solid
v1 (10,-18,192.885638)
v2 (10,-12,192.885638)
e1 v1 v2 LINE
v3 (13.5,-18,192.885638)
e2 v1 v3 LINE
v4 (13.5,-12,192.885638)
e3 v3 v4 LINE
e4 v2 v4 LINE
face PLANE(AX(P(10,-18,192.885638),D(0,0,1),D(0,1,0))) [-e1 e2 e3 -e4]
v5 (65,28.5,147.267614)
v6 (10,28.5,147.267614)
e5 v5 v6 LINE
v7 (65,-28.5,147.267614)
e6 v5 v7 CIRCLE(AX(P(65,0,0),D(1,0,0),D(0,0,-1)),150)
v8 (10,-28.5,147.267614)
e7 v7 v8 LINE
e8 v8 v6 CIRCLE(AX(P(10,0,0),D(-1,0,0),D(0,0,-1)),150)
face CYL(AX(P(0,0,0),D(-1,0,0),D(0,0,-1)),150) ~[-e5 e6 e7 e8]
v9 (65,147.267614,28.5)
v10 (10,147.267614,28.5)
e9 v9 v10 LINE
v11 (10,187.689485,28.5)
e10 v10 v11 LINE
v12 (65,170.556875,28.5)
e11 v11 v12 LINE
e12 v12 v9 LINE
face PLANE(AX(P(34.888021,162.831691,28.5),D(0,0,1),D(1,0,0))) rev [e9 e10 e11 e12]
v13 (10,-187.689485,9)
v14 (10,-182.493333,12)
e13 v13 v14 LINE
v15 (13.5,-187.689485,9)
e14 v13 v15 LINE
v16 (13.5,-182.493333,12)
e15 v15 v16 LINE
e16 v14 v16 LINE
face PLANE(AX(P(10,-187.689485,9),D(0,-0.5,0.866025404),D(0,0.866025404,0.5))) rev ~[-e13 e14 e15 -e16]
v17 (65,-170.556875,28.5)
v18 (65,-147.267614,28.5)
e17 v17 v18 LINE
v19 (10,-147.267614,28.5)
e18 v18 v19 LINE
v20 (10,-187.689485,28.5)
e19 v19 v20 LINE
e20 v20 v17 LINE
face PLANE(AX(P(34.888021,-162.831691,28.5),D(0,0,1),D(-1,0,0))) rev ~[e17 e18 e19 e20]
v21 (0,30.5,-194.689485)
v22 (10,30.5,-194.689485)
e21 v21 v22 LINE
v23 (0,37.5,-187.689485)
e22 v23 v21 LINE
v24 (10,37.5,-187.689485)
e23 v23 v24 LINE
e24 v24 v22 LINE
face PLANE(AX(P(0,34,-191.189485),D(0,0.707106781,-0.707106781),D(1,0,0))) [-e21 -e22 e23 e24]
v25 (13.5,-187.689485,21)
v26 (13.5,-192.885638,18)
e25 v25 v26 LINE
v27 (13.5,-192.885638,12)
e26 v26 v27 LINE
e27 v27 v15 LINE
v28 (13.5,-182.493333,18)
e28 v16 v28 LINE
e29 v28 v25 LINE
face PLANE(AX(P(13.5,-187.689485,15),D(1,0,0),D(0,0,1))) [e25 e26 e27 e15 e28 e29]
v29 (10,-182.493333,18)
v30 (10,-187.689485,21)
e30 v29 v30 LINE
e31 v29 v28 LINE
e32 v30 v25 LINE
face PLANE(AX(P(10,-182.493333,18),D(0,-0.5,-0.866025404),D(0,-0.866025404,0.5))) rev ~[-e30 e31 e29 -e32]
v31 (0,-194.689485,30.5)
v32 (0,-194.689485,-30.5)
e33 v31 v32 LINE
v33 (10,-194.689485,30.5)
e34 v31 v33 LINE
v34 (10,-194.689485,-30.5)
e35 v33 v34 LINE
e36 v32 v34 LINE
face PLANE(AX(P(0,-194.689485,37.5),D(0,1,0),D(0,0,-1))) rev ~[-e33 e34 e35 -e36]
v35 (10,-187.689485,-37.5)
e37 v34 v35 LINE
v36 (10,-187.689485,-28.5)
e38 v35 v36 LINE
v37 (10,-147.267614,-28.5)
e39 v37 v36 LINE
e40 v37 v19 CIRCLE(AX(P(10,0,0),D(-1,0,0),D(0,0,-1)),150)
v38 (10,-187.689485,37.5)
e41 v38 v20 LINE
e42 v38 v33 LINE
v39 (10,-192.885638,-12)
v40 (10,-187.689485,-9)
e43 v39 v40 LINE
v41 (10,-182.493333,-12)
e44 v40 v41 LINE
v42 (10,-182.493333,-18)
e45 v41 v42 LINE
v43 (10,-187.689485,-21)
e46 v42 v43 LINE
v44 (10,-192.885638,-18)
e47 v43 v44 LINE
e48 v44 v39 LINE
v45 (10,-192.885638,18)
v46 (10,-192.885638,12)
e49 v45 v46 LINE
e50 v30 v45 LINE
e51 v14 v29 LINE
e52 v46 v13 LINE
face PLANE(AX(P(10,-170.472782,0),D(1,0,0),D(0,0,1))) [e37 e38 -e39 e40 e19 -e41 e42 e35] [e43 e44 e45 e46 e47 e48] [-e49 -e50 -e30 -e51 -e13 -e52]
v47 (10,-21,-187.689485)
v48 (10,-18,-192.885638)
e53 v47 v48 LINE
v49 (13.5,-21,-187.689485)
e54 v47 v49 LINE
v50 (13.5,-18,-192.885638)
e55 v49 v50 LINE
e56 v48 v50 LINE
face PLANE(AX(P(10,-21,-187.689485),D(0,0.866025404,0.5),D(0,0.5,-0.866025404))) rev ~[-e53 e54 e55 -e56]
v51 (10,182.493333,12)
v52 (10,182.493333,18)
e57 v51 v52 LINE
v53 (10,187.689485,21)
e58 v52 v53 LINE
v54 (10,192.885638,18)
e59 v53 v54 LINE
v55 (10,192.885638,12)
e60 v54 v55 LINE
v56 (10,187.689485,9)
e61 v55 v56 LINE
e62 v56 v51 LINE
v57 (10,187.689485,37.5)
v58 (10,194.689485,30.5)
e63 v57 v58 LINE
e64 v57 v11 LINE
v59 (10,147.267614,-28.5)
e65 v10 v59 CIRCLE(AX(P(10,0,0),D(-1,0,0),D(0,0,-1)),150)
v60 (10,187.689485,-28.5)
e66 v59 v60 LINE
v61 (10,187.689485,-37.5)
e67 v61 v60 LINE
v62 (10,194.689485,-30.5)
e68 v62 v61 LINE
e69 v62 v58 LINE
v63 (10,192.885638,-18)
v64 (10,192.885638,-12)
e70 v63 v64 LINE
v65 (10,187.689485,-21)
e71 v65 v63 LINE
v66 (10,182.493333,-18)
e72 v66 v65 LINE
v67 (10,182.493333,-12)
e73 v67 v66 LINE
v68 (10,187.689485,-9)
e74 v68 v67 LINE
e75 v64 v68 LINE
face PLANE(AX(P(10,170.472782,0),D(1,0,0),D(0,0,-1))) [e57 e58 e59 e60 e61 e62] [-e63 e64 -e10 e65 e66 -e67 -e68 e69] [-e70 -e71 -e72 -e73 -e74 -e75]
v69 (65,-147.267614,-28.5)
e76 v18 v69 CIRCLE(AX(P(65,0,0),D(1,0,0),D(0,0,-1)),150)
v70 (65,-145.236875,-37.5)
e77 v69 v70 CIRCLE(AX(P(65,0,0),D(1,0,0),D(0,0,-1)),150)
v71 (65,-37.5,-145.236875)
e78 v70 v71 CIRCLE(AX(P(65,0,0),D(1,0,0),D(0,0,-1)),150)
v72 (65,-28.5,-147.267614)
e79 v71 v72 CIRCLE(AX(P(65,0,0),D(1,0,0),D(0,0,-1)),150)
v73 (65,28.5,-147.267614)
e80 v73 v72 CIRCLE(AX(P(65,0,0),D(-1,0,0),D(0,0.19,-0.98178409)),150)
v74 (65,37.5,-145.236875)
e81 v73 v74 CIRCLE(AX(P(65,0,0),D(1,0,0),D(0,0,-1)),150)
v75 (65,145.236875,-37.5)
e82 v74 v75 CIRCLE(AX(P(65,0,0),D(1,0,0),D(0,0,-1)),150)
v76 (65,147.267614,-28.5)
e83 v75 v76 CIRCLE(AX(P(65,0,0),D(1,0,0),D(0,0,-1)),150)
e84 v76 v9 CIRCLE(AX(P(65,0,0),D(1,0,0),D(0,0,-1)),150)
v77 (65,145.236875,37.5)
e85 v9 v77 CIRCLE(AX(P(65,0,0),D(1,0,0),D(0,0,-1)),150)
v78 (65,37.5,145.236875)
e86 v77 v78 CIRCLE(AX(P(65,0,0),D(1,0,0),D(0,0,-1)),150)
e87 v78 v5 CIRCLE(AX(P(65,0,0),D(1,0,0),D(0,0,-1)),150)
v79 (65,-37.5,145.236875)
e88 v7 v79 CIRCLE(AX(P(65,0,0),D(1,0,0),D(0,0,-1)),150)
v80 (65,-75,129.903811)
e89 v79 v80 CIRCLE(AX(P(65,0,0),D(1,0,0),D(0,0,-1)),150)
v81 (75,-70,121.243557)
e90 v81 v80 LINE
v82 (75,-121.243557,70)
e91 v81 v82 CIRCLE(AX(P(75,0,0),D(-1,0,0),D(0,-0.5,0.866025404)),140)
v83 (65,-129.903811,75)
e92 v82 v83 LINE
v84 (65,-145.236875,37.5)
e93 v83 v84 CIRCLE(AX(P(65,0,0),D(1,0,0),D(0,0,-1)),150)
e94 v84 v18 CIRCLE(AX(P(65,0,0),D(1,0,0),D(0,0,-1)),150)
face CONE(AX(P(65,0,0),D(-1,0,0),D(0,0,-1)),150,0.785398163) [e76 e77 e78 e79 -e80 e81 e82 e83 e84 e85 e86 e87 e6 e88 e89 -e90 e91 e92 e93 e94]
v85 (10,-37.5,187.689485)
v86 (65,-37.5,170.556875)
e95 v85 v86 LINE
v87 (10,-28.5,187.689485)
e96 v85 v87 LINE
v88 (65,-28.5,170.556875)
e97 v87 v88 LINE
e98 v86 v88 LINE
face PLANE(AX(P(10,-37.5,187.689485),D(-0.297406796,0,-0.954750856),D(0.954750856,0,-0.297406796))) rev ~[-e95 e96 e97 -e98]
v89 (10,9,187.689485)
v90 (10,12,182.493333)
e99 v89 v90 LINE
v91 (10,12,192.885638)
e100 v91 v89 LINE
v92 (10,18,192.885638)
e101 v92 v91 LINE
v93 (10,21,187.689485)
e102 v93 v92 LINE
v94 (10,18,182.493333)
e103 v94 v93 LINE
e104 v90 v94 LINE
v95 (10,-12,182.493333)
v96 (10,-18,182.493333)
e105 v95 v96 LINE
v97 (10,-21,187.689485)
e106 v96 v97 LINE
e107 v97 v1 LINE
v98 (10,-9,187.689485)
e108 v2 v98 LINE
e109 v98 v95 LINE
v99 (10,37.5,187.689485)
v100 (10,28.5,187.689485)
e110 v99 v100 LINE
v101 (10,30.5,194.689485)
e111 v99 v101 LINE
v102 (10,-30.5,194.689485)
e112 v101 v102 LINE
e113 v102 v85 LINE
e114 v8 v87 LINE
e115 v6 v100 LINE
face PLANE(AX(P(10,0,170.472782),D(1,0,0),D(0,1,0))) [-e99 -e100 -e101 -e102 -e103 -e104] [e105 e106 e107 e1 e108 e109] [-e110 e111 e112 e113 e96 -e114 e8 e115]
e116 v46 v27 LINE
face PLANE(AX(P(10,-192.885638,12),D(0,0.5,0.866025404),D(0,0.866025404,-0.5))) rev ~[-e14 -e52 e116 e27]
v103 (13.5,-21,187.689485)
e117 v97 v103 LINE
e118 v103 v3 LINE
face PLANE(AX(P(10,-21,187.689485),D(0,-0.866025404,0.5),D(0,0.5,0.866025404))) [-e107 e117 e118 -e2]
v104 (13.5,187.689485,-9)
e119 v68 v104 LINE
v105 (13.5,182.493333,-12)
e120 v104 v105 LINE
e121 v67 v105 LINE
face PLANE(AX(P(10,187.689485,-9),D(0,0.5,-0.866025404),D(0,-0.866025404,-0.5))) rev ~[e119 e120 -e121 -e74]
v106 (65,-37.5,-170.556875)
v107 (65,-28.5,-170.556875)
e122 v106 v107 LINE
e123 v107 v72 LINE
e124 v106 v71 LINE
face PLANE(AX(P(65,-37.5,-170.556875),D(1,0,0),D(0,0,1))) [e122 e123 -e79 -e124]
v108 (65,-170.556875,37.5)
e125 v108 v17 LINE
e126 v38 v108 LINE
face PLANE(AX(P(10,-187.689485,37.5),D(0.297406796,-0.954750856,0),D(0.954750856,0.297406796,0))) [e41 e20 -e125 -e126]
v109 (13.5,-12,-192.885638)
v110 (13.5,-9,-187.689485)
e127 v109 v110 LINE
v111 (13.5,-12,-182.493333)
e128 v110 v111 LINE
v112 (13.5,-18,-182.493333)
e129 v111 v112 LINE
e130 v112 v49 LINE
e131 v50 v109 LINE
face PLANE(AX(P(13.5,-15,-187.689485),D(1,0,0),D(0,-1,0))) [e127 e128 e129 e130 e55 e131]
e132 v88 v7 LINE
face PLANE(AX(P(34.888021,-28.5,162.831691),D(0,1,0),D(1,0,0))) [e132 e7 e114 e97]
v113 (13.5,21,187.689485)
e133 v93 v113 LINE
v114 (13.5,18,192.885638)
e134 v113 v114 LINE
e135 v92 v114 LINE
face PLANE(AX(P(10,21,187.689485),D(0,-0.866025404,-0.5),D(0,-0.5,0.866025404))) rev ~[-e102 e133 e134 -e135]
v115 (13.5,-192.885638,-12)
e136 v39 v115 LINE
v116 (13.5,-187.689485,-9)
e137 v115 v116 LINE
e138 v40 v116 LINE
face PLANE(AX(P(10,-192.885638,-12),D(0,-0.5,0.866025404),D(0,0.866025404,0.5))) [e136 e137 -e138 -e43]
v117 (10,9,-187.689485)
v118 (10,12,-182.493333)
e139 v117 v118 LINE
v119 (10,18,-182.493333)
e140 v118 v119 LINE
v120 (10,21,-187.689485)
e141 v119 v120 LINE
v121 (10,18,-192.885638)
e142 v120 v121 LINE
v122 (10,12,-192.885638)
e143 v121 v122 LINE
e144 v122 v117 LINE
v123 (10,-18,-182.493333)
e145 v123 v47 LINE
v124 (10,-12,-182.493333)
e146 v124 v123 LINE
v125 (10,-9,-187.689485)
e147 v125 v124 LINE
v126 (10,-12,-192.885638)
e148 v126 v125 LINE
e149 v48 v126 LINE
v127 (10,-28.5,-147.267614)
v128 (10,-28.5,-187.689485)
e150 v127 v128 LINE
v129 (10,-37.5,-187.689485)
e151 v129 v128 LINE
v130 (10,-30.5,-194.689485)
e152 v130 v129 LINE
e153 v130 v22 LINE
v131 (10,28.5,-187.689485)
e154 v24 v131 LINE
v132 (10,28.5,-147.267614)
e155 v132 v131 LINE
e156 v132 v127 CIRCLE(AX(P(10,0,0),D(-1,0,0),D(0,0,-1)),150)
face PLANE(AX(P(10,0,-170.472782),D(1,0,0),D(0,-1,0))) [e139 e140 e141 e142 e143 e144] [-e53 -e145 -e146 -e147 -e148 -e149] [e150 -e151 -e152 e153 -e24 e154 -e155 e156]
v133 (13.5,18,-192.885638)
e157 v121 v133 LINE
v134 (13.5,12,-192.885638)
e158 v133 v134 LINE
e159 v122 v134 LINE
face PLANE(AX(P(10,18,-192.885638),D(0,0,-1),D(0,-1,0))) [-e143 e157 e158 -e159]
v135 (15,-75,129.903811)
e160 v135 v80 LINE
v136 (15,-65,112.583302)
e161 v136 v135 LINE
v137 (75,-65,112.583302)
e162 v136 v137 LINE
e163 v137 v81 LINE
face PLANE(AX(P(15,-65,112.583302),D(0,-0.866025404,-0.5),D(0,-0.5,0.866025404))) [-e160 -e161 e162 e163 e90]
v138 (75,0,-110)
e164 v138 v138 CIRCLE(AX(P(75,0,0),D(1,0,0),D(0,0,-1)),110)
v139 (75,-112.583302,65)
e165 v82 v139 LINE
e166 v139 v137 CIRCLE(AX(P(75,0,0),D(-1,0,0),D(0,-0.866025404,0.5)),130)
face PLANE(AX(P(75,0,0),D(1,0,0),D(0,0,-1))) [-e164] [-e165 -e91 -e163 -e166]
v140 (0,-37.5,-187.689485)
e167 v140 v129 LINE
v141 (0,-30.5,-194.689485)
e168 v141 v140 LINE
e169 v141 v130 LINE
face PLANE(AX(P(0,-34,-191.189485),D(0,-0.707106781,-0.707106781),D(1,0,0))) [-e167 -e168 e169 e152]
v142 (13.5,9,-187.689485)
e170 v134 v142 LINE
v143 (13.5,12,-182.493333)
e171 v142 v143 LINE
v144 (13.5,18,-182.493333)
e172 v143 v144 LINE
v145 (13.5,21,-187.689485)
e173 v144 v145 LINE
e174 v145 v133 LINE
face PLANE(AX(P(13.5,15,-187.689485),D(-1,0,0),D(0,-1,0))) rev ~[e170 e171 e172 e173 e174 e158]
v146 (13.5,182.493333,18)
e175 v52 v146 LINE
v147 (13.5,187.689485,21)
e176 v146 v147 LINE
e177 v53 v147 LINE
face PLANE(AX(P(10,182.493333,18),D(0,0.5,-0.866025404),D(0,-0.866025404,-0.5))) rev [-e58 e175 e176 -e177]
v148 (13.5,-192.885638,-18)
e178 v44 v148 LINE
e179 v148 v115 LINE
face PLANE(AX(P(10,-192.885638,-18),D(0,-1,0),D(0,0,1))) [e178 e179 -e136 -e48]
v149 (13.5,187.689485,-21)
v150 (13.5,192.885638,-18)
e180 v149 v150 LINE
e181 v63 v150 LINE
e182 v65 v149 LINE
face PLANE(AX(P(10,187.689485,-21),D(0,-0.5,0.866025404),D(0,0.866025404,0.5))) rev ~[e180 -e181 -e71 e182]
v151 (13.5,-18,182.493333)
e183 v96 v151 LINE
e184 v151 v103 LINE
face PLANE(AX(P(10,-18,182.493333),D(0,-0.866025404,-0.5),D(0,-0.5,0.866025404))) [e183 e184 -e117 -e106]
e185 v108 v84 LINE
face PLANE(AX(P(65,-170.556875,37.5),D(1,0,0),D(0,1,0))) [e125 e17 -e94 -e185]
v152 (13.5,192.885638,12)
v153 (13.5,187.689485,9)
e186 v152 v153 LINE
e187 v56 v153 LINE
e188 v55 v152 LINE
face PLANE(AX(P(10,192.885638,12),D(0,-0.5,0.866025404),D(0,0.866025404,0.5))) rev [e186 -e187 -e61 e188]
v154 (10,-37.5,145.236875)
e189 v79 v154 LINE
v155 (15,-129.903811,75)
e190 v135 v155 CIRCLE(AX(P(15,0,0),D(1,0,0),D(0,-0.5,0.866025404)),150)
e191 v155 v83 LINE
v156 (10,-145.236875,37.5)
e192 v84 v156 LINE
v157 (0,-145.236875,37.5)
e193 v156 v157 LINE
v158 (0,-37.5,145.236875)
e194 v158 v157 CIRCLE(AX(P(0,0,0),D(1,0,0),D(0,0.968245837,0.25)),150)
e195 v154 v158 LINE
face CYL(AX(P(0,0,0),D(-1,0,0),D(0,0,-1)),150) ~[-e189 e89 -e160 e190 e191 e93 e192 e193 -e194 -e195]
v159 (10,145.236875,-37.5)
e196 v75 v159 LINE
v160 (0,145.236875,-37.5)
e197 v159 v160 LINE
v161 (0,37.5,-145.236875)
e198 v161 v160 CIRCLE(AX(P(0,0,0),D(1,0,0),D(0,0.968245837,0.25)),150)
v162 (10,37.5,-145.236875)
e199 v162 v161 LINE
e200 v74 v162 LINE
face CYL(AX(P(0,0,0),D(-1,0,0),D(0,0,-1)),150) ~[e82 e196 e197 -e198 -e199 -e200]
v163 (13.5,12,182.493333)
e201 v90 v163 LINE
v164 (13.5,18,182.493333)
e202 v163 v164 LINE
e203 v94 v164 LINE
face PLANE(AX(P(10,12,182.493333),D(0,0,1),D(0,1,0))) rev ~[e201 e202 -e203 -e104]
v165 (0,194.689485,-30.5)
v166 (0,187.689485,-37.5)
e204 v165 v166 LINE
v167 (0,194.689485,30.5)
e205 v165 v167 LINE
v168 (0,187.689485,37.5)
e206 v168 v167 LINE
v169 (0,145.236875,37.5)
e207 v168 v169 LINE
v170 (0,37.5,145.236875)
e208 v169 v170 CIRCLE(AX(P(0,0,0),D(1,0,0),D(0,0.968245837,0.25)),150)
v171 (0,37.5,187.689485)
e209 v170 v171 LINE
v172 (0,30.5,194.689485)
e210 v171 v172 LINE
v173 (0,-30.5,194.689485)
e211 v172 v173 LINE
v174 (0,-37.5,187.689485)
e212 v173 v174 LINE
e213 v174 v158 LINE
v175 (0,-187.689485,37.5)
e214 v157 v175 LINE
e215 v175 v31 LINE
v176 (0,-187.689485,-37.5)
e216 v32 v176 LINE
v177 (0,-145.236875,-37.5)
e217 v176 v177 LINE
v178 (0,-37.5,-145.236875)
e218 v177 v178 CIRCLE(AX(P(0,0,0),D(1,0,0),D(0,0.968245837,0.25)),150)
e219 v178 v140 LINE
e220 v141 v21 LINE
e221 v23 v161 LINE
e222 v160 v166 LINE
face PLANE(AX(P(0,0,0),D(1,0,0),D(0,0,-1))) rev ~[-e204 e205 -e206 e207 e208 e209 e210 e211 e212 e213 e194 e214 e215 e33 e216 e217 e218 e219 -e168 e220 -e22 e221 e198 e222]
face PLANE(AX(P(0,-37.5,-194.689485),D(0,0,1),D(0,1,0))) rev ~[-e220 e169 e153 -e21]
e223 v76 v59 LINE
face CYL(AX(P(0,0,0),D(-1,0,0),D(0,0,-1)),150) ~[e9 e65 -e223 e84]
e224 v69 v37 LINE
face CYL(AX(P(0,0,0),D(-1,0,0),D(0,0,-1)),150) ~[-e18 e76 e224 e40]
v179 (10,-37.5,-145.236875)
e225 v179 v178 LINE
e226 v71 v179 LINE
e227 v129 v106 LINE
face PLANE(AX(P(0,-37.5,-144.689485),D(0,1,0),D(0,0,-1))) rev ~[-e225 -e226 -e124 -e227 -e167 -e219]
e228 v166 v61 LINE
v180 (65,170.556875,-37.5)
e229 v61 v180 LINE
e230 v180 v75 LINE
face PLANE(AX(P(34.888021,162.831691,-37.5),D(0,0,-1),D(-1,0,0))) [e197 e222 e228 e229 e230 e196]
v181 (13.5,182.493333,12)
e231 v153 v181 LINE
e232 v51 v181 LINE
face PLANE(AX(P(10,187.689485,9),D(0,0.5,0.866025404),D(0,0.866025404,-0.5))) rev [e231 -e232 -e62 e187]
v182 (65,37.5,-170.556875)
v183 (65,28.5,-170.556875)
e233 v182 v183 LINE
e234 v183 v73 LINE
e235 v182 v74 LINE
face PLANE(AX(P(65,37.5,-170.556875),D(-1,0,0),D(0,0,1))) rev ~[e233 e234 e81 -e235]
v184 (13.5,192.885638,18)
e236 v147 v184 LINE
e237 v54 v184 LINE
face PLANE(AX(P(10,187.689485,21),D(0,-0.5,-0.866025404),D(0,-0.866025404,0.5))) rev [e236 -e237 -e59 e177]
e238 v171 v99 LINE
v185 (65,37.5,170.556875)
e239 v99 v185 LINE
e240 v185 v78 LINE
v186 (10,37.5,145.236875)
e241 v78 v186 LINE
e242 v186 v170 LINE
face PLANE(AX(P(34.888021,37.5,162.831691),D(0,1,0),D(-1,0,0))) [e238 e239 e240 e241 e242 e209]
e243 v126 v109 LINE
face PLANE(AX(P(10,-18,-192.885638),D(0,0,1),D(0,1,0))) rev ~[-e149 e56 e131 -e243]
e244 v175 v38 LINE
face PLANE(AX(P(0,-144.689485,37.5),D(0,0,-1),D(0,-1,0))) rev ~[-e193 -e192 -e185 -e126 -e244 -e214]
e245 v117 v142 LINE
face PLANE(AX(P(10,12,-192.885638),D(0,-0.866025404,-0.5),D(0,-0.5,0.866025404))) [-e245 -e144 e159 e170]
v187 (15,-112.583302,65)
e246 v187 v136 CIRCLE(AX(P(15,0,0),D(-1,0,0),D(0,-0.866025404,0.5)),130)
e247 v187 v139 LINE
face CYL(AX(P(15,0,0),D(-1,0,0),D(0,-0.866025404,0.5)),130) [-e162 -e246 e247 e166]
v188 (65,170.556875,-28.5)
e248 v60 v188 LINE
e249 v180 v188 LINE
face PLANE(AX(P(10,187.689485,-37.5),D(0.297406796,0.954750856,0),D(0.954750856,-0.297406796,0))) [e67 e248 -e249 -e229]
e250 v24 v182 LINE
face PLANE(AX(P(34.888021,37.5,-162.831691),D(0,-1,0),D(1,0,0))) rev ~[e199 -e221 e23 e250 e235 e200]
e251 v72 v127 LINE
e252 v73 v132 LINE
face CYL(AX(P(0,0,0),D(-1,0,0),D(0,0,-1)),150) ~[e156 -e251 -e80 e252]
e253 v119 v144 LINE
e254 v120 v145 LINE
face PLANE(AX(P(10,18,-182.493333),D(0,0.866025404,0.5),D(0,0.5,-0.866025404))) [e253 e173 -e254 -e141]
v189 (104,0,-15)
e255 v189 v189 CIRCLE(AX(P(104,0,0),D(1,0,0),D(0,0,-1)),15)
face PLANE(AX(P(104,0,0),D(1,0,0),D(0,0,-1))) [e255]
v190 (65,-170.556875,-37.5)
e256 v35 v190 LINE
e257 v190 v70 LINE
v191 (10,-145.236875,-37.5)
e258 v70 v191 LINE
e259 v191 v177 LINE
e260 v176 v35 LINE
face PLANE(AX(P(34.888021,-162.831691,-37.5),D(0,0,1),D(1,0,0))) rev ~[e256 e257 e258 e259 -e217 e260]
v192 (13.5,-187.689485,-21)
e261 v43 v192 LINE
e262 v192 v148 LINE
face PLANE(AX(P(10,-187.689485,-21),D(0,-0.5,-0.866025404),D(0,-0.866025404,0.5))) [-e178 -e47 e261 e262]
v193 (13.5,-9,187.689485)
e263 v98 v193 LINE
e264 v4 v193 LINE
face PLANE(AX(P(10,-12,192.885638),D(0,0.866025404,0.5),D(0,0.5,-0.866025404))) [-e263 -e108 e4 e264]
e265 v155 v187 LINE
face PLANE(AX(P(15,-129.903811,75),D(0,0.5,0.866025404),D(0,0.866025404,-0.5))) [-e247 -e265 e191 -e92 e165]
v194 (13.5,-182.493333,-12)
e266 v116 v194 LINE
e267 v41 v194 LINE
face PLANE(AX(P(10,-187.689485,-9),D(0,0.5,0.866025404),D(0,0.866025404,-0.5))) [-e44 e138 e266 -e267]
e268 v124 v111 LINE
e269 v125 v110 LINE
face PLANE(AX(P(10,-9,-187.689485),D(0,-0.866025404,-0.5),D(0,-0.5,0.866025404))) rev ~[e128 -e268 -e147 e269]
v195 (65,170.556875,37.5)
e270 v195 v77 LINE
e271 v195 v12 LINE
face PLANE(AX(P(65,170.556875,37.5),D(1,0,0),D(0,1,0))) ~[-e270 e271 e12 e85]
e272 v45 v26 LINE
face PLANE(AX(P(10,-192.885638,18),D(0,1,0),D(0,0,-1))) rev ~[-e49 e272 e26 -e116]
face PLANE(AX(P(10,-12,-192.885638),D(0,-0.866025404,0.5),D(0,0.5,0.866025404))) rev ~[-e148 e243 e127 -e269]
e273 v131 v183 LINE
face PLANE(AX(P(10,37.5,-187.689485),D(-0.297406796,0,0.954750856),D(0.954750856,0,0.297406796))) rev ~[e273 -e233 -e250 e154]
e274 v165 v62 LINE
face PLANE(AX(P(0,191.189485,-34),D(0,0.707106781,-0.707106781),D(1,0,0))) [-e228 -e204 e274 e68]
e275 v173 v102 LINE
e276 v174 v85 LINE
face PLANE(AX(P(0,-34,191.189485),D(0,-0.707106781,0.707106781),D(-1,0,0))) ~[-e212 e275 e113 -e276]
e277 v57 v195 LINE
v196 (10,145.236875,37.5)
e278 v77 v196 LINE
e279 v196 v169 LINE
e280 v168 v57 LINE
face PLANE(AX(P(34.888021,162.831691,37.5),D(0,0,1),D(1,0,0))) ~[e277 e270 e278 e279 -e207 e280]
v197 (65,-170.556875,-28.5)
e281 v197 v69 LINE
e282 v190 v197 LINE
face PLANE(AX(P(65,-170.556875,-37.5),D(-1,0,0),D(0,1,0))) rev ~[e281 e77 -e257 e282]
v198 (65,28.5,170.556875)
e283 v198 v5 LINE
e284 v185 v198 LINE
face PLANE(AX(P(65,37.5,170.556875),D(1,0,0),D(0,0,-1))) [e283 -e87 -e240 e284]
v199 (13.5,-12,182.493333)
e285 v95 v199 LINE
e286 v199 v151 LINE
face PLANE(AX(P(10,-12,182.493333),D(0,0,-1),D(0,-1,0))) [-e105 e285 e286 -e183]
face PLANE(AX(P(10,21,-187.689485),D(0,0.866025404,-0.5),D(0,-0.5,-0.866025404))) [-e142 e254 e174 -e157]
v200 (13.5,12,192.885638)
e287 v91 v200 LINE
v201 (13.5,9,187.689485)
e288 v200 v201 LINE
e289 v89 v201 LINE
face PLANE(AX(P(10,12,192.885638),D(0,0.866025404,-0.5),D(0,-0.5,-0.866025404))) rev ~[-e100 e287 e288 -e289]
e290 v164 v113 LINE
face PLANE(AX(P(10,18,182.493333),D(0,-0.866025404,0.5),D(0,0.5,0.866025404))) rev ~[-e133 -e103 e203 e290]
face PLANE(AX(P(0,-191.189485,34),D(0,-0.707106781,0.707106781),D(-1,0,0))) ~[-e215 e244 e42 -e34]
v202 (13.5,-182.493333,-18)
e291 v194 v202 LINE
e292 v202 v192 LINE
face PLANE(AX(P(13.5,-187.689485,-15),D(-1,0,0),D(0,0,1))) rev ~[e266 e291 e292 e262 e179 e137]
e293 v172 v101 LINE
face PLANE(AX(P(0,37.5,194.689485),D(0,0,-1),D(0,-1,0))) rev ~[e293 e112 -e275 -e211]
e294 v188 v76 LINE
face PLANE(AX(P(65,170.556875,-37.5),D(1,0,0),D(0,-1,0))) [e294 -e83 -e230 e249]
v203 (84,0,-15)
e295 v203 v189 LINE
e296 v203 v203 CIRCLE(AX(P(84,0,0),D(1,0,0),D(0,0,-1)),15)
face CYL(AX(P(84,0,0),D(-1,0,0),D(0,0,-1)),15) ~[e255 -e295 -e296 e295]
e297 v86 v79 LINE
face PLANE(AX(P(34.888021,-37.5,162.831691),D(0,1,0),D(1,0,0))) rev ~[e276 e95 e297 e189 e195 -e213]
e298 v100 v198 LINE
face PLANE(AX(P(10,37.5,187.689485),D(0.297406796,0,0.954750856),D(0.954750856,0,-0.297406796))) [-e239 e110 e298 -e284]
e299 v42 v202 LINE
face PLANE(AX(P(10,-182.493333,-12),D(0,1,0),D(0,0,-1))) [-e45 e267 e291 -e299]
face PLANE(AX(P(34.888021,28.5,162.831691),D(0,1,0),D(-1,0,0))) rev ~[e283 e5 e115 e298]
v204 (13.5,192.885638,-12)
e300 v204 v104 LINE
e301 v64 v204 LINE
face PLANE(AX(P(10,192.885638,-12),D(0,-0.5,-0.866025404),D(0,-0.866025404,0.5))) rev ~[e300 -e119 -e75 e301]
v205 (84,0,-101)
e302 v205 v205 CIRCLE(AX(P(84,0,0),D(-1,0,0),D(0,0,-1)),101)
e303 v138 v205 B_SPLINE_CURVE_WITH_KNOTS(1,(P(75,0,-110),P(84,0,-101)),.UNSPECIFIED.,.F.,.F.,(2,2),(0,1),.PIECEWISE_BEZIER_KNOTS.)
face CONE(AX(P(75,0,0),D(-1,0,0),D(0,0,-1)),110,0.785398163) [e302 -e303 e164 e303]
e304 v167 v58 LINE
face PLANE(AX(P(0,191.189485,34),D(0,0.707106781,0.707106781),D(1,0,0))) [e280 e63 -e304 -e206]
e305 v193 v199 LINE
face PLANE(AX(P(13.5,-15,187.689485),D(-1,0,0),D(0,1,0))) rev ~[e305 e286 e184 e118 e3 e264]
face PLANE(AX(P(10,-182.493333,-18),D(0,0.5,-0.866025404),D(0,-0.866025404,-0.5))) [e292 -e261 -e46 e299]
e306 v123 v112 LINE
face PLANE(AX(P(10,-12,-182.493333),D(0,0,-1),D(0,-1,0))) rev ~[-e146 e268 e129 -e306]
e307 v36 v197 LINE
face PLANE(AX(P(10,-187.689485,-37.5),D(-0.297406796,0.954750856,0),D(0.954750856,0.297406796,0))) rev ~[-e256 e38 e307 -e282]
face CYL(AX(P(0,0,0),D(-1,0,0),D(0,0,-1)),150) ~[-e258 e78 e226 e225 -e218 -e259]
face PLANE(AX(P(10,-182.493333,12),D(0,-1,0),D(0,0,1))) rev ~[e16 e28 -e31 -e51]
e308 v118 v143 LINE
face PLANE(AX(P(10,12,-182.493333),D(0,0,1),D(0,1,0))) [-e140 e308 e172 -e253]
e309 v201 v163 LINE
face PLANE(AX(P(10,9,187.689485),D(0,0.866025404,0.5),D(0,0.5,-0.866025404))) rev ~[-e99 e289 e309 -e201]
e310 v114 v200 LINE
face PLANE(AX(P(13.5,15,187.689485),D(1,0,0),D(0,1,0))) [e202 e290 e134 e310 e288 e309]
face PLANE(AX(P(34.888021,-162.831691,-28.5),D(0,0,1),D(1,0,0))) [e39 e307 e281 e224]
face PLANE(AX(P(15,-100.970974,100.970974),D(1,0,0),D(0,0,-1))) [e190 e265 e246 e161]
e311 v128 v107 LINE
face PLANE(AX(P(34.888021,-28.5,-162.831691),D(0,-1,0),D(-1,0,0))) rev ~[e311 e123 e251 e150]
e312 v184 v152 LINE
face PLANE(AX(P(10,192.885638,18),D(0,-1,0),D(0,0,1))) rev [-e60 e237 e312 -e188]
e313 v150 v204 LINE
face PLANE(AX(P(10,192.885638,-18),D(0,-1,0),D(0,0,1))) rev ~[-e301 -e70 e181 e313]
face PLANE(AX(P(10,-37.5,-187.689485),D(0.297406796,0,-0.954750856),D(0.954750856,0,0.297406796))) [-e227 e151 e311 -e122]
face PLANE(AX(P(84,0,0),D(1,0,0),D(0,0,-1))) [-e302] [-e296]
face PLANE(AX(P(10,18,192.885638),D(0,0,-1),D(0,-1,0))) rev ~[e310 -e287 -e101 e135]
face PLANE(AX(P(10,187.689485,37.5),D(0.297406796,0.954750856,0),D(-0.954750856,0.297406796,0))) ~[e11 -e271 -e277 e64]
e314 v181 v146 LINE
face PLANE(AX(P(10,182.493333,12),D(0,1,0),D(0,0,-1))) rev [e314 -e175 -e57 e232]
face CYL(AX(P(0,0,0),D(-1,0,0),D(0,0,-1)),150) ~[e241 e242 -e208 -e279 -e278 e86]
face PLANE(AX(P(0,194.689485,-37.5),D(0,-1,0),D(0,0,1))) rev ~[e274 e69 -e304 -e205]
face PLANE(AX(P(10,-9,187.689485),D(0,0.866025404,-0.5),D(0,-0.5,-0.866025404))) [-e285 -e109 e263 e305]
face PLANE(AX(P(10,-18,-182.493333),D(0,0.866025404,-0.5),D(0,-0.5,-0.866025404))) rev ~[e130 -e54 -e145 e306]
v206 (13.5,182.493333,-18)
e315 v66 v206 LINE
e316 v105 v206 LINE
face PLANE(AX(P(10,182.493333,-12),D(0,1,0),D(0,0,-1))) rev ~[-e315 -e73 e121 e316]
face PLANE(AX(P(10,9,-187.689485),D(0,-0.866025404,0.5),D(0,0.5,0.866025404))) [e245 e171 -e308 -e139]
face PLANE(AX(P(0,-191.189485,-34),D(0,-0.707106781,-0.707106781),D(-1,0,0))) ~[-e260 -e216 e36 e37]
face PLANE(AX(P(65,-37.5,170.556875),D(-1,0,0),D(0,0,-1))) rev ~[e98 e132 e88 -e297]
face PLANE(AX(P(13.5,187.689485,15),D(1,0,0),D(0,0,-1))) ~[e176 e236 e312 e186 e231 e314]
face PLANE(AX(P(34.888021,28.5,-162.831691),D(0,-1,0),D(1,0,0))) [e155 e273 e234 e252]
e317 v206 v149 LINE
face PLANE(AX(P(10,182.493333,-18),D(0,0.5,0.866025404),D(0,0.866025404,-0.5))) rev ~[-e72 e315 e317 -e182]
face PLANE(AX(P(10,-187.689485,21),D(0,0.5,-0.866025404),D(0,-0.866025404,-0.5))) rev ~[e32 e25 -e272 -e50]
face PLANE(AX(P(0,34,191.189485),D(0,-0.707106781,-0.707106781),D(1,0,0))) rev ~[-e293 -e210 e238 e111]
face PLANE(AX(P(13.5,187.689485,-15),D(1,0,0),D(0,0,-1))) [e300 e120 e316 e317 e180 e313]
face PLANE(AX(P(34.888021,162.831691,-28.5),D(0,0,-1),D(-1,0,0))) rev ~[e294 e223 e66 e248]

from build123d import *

# Parameters (mm, degrees)
SKETCH2_R                    = 150
BOSS_EXTRUDE1_DEPTH          = 75
CHAMFER1_SIZE                = 10
BOSS_EXTRUDE2_DEPTH          = 10
CHAMFER2_SIZE                = 7
BOSS_EXTRUDE3_DEPTH          = 9
BOSS_EXTRUDE4_DEPTH          = 3.5
CIRPATTERN1_COUNT            = 4
CIRPATTERN1_COPY_1_DEPTH     = 3.5
CIRPATTERN1_COPY_2_DEPTH     = 3.5
CIRPATTERN1_COPY_3_DEPTH     = 3.5
CIRPATTERN1_COPY_4_DEPTH     = 9
CIRPATTERN1_COPY_5_DEPTH     = 9
CIRPATTERN1_COPY_6_DEPTH     = 9
CHAMFER2_OF_CIRPATTERN1_SIZE = 7
CUT_EXTRUDE1_START           = -60
CUT_EXTRUDE1_DEPTH           = 60
SKETCH8_R                    = 110
BOSS_EXTRUDE5_DEPTH          = 9
BOSS_EXTRUDE5_TAPER          = 45
SKETCH9_R                    = 15
BOSS_EXTRUDE6_DEPTH          = 20


with BuildPart() as part:
    # Sketch2 → Boss-Extrude1 (new body)
    with BuildSketch(Plane(origin=(0, 0, 0), x_dir=(0, 0, -1), z_dir=(1, 0, 0))):
        Circle(SKETCH2_R)
    extrude(amount=BOSS_EXTRUDE1_DEPTH)

    # Chamfer1
    chamfer1_edges = [part.edges().sort_by_distance(p)[0] for p in [
        (75, 0, 150),
    ]]
    chamfer(chamfer1_edges, length=CHAMFER1_SIZE)

    # Sketch3 → Boss-Extrude2 (add)
    with BuildSketch(Plane.ZY):
        with BuildLine():
            Line((-37.5, 144.689485183), (-37.5, 194.689485183))
            Line((-37.5, 194.689485183), (37.5, 194.689485183))
            Line((37.5, 194.689485183), (37.5, 144.689485183))
            ThreePointArc((37.5, 144.689485183), (0, 149.470054267), (-37.5, 144.689485183))
        make_face()
    boss_extrude2 = extrude(amount=-BOSS_EXTRUDE2_DEPTH)

    # Chamfer2
    chamfer2_edges = [part.edges().sort_by_distance(p)[0] for p in [
        (5, 194.689485183, 37.5),
        (5, 194.689485183, -37.5),
    ]]
    chamfer(chamfer2_edges, length=CHAMFER2_SIZE)

    # Sketch4 → Boss-Extrude3 (add)
    with BuildSketch(Plane(origin=(0, 0, -37.5), x_dir=(-1, 0, 0), z_dir=(0, 0, -1))):
        Polygon((-10, 145.236875483), (-10, 187.689485183), (-65, 170.556875483), (-65, 145.236875483), align=None)
    boss_extrude3 = extrude(amount=-BOSS_EXTRUDE3_DEPTH)

    # Sketch5 → Boss-Extrude4 (add)
    with BuildSketch(Plane(origin=(10, 0, 0), x_dir=(0, 0, -1), z_dir=(1, 0, 0))):
        Polygon((21, 187.689485183), (18, 192.885637605), (12, 192.885637605), (9, 187.689485183), (12, 182.49333276), (18, 182.49333276), align=None)
    boss_extrude4 = extrude(amount=BOSS_EXTRUDE4_DEPTH)

    # Mirror1: Boss-Extrude4 across plane
    add(boss_extrude4.mirror(Plane.XY))

    # Mirror2: Boss-Extrude3 across plane
    add(boss_extrude3.mirror(Plane.XY))

    # CirPattern1: Boss-Extrude2, Boss-Extrude3, Boss-Extrude4 ×4 about axis
    cirpattern1_axis = Axis((0, 0, 0), (1, 0, 0))
    add([boss_extrude2.rotate(cirpattern1_axis, i * 360 / CIRPATTERN1_COUNT) for i in range(1, CIRPATTERN1_COUNT)])
    add([boss_extrude3.rotate(cirpattern1_axis, i * 360 / CIRPATTERN1_COUNT) for i in range(1, CIRPATTERN1_COUNT)])
    add([boss_extrude4.rotate(cirpattern1_axis, i * 360 / CIRPATTERN1_COUNT) for i in range(1, CIRPATTERN1_COUNT)])

    # CirPattern1 copy 1 sketch → CirPattern1 copy 1 (add)
    with BuildSketch(Plane(origin=(10, 0, 0), x_dir=(0, -1, 0), z_dir=(1, 0, 0))):
        Polygon((21, -187.689485183), (18, -192.885637605), (12, -192.885637605), (9, -187.689485183), (12, -182.49333276), (18, -182.49333276), align=None)
    extrude(amount=CIRPATTERN1_COPY_1_DEPTH)

    # CirPattern1 copy 2 sketch → CirPattern1 copy 2 (add)
    with BuildSketch(Plane(origin=(10, 0, 0), x_dir=(0, 0, -1), z_dir=(1, 0, 0))):
        Polygon((21, -187.689485183), (18, -192.885637605), (12, -192.885637605), (9, -187.689485183), (12, -182.49333276), (18, -182.49333276), align=None)
    extrude(amount=CIRPATTERN1_COPY_2_DEPTH)

    # CirPattern1 copy 3 sketch → CirPattern1 copy 3 (add)
    with BuildSketch(Plane.YZ.offset(10)):
        Polygon((21, -187.689485183), (18, -192.885637605), (12, -192.885637605), (9, -187.689485183), (12, -182.49333276), (18, -182.49333276), align=None)
    extrude(amount=CIRPATTERN1_COPY_3_DEPTH)

    # CirPattern1 copy 4 sketch → CirPattern1 copy 4 (add)
    with BuildSketch(Plane(origin=(0, -37.5, 0), x_dir=(-1, 0, 0), z_dir=(0, -1, 0))):
        Polygon((-10, -145.236875483), (-10, -187.689485183), (-65, -170.556875483), (-65, -145.236875483), align=None)
    extrude(amount=-CIRPATTERN1_COPY_4_DEPTH)

    # CirPattern1 copy 5 sketch → CirPattern1 copy 5 (add)
    with BuildSketch(Plane(origin=(0, 0, -37.5), x_dir=(-1, 0, 0), z_dir=(0, 0, -1))):
        Polygon((-10, -145.236875483), (-10, -187.689485183), (-65, -170.556875483), (-65, -145.236875483), align=None)
    extrude(amount=-CIRPATTERN1_COPY_5_DEPTH)

    # CirPattern1 copy 6 sketch → CirPattern1 copy 6 (add)
    with BuildSketch(Plane(origin=(0, 37.5, 0), x_dir=(-1, 0, 0), z_dir=(0, 1, 0))):
        Polygon((-10, -145.236875483), (-10, -187.689485183), (-65, -170.556875483), (-65, -145.236875483), align=None)
    extrude(amount=-CIRPATTERN1_COPY_6_DEPTH)

    # Chamfer2 of CirPattern1
    chamfer2_of_cirpattern1_edges = [part.edges().sort_by_distance(p)[0] for p in [
        (5, -37.5, 194.689485183),
        (5, 37.5, 194.689485183),
        (5, -194.689485183, -37.5),
        (5, -194.689485183, 37.5),
        (5, 37.5, -194.689485183),
        (5, -37.5, -194.689485183),
    ]]
    chamfer(chamfer2_of_cirpattern1_edges, length=CHAMFER2_OF_CIRPATTERN1_SIZE)

    # Sketch7 → Cut-Extrude1 (cut)
    with BuildSketch(Plane(origin=(75, 0, 0), x_dir=(0, 0, -1), z_dir=(1, 0, 0)).offset(CUT_EXTRUDE1_START)):
        with BuildLine():
            ThreePointArc((-70, -121.24355653), (-98.994949366, -98.994949366), (-121.24355653, -70))
            Line((-121.24355653, -70), (-129.903810568, -75))
            ThreePointArc((-129.903810568, -75), (-106.066017178, -106.066017178), (-75, -129.903810568))
            Line((-75, -129.903810568), (-70, -121.24355653))
        make_face()
        with BuildLine():
            ThreePointArc((-65, -112.583302492), (-91.923881554, -91.923881554), (-112.583302492, -65))
            Line((-112.583302492, -65), (-121.24355653, -70))
            ThreePointArc((-121.24355653, -70), (-98.994949366, -98.994949366), (-70, -121.24355653))
            Line((-70, -121.24355653), (-65, -112.583302492))
        make_face()
    extrude(amount=CUT_EXTRUDE1_DEPTH, mode=Mode.SUBTRACT)

    # Sketch8 → Boss-Extrude5 (add)
    with BuildSketch(Plane(origin=(75, 0, 0), x_dir=(0, 0, -1), z_dir=(1, 0, 0))):
        Circle(SKETCH8_R)
    extrude(amount=BOSS_EXTRUDE5_DEPTH, taper=BOSS_EXTRUDE5_TAPER)

    # Sketch9 → Boss-Extrude6 (add)
    with BuildSketch(Plane(origin=(84, 0, 0), x_dir=(0, 0, -1), z_dir=(1, 0, 0))):
        Circle(SKETCH9_R)
    extrude(amount=BOSS_EXTRUDE6_DEPTH)


solid = part.part
